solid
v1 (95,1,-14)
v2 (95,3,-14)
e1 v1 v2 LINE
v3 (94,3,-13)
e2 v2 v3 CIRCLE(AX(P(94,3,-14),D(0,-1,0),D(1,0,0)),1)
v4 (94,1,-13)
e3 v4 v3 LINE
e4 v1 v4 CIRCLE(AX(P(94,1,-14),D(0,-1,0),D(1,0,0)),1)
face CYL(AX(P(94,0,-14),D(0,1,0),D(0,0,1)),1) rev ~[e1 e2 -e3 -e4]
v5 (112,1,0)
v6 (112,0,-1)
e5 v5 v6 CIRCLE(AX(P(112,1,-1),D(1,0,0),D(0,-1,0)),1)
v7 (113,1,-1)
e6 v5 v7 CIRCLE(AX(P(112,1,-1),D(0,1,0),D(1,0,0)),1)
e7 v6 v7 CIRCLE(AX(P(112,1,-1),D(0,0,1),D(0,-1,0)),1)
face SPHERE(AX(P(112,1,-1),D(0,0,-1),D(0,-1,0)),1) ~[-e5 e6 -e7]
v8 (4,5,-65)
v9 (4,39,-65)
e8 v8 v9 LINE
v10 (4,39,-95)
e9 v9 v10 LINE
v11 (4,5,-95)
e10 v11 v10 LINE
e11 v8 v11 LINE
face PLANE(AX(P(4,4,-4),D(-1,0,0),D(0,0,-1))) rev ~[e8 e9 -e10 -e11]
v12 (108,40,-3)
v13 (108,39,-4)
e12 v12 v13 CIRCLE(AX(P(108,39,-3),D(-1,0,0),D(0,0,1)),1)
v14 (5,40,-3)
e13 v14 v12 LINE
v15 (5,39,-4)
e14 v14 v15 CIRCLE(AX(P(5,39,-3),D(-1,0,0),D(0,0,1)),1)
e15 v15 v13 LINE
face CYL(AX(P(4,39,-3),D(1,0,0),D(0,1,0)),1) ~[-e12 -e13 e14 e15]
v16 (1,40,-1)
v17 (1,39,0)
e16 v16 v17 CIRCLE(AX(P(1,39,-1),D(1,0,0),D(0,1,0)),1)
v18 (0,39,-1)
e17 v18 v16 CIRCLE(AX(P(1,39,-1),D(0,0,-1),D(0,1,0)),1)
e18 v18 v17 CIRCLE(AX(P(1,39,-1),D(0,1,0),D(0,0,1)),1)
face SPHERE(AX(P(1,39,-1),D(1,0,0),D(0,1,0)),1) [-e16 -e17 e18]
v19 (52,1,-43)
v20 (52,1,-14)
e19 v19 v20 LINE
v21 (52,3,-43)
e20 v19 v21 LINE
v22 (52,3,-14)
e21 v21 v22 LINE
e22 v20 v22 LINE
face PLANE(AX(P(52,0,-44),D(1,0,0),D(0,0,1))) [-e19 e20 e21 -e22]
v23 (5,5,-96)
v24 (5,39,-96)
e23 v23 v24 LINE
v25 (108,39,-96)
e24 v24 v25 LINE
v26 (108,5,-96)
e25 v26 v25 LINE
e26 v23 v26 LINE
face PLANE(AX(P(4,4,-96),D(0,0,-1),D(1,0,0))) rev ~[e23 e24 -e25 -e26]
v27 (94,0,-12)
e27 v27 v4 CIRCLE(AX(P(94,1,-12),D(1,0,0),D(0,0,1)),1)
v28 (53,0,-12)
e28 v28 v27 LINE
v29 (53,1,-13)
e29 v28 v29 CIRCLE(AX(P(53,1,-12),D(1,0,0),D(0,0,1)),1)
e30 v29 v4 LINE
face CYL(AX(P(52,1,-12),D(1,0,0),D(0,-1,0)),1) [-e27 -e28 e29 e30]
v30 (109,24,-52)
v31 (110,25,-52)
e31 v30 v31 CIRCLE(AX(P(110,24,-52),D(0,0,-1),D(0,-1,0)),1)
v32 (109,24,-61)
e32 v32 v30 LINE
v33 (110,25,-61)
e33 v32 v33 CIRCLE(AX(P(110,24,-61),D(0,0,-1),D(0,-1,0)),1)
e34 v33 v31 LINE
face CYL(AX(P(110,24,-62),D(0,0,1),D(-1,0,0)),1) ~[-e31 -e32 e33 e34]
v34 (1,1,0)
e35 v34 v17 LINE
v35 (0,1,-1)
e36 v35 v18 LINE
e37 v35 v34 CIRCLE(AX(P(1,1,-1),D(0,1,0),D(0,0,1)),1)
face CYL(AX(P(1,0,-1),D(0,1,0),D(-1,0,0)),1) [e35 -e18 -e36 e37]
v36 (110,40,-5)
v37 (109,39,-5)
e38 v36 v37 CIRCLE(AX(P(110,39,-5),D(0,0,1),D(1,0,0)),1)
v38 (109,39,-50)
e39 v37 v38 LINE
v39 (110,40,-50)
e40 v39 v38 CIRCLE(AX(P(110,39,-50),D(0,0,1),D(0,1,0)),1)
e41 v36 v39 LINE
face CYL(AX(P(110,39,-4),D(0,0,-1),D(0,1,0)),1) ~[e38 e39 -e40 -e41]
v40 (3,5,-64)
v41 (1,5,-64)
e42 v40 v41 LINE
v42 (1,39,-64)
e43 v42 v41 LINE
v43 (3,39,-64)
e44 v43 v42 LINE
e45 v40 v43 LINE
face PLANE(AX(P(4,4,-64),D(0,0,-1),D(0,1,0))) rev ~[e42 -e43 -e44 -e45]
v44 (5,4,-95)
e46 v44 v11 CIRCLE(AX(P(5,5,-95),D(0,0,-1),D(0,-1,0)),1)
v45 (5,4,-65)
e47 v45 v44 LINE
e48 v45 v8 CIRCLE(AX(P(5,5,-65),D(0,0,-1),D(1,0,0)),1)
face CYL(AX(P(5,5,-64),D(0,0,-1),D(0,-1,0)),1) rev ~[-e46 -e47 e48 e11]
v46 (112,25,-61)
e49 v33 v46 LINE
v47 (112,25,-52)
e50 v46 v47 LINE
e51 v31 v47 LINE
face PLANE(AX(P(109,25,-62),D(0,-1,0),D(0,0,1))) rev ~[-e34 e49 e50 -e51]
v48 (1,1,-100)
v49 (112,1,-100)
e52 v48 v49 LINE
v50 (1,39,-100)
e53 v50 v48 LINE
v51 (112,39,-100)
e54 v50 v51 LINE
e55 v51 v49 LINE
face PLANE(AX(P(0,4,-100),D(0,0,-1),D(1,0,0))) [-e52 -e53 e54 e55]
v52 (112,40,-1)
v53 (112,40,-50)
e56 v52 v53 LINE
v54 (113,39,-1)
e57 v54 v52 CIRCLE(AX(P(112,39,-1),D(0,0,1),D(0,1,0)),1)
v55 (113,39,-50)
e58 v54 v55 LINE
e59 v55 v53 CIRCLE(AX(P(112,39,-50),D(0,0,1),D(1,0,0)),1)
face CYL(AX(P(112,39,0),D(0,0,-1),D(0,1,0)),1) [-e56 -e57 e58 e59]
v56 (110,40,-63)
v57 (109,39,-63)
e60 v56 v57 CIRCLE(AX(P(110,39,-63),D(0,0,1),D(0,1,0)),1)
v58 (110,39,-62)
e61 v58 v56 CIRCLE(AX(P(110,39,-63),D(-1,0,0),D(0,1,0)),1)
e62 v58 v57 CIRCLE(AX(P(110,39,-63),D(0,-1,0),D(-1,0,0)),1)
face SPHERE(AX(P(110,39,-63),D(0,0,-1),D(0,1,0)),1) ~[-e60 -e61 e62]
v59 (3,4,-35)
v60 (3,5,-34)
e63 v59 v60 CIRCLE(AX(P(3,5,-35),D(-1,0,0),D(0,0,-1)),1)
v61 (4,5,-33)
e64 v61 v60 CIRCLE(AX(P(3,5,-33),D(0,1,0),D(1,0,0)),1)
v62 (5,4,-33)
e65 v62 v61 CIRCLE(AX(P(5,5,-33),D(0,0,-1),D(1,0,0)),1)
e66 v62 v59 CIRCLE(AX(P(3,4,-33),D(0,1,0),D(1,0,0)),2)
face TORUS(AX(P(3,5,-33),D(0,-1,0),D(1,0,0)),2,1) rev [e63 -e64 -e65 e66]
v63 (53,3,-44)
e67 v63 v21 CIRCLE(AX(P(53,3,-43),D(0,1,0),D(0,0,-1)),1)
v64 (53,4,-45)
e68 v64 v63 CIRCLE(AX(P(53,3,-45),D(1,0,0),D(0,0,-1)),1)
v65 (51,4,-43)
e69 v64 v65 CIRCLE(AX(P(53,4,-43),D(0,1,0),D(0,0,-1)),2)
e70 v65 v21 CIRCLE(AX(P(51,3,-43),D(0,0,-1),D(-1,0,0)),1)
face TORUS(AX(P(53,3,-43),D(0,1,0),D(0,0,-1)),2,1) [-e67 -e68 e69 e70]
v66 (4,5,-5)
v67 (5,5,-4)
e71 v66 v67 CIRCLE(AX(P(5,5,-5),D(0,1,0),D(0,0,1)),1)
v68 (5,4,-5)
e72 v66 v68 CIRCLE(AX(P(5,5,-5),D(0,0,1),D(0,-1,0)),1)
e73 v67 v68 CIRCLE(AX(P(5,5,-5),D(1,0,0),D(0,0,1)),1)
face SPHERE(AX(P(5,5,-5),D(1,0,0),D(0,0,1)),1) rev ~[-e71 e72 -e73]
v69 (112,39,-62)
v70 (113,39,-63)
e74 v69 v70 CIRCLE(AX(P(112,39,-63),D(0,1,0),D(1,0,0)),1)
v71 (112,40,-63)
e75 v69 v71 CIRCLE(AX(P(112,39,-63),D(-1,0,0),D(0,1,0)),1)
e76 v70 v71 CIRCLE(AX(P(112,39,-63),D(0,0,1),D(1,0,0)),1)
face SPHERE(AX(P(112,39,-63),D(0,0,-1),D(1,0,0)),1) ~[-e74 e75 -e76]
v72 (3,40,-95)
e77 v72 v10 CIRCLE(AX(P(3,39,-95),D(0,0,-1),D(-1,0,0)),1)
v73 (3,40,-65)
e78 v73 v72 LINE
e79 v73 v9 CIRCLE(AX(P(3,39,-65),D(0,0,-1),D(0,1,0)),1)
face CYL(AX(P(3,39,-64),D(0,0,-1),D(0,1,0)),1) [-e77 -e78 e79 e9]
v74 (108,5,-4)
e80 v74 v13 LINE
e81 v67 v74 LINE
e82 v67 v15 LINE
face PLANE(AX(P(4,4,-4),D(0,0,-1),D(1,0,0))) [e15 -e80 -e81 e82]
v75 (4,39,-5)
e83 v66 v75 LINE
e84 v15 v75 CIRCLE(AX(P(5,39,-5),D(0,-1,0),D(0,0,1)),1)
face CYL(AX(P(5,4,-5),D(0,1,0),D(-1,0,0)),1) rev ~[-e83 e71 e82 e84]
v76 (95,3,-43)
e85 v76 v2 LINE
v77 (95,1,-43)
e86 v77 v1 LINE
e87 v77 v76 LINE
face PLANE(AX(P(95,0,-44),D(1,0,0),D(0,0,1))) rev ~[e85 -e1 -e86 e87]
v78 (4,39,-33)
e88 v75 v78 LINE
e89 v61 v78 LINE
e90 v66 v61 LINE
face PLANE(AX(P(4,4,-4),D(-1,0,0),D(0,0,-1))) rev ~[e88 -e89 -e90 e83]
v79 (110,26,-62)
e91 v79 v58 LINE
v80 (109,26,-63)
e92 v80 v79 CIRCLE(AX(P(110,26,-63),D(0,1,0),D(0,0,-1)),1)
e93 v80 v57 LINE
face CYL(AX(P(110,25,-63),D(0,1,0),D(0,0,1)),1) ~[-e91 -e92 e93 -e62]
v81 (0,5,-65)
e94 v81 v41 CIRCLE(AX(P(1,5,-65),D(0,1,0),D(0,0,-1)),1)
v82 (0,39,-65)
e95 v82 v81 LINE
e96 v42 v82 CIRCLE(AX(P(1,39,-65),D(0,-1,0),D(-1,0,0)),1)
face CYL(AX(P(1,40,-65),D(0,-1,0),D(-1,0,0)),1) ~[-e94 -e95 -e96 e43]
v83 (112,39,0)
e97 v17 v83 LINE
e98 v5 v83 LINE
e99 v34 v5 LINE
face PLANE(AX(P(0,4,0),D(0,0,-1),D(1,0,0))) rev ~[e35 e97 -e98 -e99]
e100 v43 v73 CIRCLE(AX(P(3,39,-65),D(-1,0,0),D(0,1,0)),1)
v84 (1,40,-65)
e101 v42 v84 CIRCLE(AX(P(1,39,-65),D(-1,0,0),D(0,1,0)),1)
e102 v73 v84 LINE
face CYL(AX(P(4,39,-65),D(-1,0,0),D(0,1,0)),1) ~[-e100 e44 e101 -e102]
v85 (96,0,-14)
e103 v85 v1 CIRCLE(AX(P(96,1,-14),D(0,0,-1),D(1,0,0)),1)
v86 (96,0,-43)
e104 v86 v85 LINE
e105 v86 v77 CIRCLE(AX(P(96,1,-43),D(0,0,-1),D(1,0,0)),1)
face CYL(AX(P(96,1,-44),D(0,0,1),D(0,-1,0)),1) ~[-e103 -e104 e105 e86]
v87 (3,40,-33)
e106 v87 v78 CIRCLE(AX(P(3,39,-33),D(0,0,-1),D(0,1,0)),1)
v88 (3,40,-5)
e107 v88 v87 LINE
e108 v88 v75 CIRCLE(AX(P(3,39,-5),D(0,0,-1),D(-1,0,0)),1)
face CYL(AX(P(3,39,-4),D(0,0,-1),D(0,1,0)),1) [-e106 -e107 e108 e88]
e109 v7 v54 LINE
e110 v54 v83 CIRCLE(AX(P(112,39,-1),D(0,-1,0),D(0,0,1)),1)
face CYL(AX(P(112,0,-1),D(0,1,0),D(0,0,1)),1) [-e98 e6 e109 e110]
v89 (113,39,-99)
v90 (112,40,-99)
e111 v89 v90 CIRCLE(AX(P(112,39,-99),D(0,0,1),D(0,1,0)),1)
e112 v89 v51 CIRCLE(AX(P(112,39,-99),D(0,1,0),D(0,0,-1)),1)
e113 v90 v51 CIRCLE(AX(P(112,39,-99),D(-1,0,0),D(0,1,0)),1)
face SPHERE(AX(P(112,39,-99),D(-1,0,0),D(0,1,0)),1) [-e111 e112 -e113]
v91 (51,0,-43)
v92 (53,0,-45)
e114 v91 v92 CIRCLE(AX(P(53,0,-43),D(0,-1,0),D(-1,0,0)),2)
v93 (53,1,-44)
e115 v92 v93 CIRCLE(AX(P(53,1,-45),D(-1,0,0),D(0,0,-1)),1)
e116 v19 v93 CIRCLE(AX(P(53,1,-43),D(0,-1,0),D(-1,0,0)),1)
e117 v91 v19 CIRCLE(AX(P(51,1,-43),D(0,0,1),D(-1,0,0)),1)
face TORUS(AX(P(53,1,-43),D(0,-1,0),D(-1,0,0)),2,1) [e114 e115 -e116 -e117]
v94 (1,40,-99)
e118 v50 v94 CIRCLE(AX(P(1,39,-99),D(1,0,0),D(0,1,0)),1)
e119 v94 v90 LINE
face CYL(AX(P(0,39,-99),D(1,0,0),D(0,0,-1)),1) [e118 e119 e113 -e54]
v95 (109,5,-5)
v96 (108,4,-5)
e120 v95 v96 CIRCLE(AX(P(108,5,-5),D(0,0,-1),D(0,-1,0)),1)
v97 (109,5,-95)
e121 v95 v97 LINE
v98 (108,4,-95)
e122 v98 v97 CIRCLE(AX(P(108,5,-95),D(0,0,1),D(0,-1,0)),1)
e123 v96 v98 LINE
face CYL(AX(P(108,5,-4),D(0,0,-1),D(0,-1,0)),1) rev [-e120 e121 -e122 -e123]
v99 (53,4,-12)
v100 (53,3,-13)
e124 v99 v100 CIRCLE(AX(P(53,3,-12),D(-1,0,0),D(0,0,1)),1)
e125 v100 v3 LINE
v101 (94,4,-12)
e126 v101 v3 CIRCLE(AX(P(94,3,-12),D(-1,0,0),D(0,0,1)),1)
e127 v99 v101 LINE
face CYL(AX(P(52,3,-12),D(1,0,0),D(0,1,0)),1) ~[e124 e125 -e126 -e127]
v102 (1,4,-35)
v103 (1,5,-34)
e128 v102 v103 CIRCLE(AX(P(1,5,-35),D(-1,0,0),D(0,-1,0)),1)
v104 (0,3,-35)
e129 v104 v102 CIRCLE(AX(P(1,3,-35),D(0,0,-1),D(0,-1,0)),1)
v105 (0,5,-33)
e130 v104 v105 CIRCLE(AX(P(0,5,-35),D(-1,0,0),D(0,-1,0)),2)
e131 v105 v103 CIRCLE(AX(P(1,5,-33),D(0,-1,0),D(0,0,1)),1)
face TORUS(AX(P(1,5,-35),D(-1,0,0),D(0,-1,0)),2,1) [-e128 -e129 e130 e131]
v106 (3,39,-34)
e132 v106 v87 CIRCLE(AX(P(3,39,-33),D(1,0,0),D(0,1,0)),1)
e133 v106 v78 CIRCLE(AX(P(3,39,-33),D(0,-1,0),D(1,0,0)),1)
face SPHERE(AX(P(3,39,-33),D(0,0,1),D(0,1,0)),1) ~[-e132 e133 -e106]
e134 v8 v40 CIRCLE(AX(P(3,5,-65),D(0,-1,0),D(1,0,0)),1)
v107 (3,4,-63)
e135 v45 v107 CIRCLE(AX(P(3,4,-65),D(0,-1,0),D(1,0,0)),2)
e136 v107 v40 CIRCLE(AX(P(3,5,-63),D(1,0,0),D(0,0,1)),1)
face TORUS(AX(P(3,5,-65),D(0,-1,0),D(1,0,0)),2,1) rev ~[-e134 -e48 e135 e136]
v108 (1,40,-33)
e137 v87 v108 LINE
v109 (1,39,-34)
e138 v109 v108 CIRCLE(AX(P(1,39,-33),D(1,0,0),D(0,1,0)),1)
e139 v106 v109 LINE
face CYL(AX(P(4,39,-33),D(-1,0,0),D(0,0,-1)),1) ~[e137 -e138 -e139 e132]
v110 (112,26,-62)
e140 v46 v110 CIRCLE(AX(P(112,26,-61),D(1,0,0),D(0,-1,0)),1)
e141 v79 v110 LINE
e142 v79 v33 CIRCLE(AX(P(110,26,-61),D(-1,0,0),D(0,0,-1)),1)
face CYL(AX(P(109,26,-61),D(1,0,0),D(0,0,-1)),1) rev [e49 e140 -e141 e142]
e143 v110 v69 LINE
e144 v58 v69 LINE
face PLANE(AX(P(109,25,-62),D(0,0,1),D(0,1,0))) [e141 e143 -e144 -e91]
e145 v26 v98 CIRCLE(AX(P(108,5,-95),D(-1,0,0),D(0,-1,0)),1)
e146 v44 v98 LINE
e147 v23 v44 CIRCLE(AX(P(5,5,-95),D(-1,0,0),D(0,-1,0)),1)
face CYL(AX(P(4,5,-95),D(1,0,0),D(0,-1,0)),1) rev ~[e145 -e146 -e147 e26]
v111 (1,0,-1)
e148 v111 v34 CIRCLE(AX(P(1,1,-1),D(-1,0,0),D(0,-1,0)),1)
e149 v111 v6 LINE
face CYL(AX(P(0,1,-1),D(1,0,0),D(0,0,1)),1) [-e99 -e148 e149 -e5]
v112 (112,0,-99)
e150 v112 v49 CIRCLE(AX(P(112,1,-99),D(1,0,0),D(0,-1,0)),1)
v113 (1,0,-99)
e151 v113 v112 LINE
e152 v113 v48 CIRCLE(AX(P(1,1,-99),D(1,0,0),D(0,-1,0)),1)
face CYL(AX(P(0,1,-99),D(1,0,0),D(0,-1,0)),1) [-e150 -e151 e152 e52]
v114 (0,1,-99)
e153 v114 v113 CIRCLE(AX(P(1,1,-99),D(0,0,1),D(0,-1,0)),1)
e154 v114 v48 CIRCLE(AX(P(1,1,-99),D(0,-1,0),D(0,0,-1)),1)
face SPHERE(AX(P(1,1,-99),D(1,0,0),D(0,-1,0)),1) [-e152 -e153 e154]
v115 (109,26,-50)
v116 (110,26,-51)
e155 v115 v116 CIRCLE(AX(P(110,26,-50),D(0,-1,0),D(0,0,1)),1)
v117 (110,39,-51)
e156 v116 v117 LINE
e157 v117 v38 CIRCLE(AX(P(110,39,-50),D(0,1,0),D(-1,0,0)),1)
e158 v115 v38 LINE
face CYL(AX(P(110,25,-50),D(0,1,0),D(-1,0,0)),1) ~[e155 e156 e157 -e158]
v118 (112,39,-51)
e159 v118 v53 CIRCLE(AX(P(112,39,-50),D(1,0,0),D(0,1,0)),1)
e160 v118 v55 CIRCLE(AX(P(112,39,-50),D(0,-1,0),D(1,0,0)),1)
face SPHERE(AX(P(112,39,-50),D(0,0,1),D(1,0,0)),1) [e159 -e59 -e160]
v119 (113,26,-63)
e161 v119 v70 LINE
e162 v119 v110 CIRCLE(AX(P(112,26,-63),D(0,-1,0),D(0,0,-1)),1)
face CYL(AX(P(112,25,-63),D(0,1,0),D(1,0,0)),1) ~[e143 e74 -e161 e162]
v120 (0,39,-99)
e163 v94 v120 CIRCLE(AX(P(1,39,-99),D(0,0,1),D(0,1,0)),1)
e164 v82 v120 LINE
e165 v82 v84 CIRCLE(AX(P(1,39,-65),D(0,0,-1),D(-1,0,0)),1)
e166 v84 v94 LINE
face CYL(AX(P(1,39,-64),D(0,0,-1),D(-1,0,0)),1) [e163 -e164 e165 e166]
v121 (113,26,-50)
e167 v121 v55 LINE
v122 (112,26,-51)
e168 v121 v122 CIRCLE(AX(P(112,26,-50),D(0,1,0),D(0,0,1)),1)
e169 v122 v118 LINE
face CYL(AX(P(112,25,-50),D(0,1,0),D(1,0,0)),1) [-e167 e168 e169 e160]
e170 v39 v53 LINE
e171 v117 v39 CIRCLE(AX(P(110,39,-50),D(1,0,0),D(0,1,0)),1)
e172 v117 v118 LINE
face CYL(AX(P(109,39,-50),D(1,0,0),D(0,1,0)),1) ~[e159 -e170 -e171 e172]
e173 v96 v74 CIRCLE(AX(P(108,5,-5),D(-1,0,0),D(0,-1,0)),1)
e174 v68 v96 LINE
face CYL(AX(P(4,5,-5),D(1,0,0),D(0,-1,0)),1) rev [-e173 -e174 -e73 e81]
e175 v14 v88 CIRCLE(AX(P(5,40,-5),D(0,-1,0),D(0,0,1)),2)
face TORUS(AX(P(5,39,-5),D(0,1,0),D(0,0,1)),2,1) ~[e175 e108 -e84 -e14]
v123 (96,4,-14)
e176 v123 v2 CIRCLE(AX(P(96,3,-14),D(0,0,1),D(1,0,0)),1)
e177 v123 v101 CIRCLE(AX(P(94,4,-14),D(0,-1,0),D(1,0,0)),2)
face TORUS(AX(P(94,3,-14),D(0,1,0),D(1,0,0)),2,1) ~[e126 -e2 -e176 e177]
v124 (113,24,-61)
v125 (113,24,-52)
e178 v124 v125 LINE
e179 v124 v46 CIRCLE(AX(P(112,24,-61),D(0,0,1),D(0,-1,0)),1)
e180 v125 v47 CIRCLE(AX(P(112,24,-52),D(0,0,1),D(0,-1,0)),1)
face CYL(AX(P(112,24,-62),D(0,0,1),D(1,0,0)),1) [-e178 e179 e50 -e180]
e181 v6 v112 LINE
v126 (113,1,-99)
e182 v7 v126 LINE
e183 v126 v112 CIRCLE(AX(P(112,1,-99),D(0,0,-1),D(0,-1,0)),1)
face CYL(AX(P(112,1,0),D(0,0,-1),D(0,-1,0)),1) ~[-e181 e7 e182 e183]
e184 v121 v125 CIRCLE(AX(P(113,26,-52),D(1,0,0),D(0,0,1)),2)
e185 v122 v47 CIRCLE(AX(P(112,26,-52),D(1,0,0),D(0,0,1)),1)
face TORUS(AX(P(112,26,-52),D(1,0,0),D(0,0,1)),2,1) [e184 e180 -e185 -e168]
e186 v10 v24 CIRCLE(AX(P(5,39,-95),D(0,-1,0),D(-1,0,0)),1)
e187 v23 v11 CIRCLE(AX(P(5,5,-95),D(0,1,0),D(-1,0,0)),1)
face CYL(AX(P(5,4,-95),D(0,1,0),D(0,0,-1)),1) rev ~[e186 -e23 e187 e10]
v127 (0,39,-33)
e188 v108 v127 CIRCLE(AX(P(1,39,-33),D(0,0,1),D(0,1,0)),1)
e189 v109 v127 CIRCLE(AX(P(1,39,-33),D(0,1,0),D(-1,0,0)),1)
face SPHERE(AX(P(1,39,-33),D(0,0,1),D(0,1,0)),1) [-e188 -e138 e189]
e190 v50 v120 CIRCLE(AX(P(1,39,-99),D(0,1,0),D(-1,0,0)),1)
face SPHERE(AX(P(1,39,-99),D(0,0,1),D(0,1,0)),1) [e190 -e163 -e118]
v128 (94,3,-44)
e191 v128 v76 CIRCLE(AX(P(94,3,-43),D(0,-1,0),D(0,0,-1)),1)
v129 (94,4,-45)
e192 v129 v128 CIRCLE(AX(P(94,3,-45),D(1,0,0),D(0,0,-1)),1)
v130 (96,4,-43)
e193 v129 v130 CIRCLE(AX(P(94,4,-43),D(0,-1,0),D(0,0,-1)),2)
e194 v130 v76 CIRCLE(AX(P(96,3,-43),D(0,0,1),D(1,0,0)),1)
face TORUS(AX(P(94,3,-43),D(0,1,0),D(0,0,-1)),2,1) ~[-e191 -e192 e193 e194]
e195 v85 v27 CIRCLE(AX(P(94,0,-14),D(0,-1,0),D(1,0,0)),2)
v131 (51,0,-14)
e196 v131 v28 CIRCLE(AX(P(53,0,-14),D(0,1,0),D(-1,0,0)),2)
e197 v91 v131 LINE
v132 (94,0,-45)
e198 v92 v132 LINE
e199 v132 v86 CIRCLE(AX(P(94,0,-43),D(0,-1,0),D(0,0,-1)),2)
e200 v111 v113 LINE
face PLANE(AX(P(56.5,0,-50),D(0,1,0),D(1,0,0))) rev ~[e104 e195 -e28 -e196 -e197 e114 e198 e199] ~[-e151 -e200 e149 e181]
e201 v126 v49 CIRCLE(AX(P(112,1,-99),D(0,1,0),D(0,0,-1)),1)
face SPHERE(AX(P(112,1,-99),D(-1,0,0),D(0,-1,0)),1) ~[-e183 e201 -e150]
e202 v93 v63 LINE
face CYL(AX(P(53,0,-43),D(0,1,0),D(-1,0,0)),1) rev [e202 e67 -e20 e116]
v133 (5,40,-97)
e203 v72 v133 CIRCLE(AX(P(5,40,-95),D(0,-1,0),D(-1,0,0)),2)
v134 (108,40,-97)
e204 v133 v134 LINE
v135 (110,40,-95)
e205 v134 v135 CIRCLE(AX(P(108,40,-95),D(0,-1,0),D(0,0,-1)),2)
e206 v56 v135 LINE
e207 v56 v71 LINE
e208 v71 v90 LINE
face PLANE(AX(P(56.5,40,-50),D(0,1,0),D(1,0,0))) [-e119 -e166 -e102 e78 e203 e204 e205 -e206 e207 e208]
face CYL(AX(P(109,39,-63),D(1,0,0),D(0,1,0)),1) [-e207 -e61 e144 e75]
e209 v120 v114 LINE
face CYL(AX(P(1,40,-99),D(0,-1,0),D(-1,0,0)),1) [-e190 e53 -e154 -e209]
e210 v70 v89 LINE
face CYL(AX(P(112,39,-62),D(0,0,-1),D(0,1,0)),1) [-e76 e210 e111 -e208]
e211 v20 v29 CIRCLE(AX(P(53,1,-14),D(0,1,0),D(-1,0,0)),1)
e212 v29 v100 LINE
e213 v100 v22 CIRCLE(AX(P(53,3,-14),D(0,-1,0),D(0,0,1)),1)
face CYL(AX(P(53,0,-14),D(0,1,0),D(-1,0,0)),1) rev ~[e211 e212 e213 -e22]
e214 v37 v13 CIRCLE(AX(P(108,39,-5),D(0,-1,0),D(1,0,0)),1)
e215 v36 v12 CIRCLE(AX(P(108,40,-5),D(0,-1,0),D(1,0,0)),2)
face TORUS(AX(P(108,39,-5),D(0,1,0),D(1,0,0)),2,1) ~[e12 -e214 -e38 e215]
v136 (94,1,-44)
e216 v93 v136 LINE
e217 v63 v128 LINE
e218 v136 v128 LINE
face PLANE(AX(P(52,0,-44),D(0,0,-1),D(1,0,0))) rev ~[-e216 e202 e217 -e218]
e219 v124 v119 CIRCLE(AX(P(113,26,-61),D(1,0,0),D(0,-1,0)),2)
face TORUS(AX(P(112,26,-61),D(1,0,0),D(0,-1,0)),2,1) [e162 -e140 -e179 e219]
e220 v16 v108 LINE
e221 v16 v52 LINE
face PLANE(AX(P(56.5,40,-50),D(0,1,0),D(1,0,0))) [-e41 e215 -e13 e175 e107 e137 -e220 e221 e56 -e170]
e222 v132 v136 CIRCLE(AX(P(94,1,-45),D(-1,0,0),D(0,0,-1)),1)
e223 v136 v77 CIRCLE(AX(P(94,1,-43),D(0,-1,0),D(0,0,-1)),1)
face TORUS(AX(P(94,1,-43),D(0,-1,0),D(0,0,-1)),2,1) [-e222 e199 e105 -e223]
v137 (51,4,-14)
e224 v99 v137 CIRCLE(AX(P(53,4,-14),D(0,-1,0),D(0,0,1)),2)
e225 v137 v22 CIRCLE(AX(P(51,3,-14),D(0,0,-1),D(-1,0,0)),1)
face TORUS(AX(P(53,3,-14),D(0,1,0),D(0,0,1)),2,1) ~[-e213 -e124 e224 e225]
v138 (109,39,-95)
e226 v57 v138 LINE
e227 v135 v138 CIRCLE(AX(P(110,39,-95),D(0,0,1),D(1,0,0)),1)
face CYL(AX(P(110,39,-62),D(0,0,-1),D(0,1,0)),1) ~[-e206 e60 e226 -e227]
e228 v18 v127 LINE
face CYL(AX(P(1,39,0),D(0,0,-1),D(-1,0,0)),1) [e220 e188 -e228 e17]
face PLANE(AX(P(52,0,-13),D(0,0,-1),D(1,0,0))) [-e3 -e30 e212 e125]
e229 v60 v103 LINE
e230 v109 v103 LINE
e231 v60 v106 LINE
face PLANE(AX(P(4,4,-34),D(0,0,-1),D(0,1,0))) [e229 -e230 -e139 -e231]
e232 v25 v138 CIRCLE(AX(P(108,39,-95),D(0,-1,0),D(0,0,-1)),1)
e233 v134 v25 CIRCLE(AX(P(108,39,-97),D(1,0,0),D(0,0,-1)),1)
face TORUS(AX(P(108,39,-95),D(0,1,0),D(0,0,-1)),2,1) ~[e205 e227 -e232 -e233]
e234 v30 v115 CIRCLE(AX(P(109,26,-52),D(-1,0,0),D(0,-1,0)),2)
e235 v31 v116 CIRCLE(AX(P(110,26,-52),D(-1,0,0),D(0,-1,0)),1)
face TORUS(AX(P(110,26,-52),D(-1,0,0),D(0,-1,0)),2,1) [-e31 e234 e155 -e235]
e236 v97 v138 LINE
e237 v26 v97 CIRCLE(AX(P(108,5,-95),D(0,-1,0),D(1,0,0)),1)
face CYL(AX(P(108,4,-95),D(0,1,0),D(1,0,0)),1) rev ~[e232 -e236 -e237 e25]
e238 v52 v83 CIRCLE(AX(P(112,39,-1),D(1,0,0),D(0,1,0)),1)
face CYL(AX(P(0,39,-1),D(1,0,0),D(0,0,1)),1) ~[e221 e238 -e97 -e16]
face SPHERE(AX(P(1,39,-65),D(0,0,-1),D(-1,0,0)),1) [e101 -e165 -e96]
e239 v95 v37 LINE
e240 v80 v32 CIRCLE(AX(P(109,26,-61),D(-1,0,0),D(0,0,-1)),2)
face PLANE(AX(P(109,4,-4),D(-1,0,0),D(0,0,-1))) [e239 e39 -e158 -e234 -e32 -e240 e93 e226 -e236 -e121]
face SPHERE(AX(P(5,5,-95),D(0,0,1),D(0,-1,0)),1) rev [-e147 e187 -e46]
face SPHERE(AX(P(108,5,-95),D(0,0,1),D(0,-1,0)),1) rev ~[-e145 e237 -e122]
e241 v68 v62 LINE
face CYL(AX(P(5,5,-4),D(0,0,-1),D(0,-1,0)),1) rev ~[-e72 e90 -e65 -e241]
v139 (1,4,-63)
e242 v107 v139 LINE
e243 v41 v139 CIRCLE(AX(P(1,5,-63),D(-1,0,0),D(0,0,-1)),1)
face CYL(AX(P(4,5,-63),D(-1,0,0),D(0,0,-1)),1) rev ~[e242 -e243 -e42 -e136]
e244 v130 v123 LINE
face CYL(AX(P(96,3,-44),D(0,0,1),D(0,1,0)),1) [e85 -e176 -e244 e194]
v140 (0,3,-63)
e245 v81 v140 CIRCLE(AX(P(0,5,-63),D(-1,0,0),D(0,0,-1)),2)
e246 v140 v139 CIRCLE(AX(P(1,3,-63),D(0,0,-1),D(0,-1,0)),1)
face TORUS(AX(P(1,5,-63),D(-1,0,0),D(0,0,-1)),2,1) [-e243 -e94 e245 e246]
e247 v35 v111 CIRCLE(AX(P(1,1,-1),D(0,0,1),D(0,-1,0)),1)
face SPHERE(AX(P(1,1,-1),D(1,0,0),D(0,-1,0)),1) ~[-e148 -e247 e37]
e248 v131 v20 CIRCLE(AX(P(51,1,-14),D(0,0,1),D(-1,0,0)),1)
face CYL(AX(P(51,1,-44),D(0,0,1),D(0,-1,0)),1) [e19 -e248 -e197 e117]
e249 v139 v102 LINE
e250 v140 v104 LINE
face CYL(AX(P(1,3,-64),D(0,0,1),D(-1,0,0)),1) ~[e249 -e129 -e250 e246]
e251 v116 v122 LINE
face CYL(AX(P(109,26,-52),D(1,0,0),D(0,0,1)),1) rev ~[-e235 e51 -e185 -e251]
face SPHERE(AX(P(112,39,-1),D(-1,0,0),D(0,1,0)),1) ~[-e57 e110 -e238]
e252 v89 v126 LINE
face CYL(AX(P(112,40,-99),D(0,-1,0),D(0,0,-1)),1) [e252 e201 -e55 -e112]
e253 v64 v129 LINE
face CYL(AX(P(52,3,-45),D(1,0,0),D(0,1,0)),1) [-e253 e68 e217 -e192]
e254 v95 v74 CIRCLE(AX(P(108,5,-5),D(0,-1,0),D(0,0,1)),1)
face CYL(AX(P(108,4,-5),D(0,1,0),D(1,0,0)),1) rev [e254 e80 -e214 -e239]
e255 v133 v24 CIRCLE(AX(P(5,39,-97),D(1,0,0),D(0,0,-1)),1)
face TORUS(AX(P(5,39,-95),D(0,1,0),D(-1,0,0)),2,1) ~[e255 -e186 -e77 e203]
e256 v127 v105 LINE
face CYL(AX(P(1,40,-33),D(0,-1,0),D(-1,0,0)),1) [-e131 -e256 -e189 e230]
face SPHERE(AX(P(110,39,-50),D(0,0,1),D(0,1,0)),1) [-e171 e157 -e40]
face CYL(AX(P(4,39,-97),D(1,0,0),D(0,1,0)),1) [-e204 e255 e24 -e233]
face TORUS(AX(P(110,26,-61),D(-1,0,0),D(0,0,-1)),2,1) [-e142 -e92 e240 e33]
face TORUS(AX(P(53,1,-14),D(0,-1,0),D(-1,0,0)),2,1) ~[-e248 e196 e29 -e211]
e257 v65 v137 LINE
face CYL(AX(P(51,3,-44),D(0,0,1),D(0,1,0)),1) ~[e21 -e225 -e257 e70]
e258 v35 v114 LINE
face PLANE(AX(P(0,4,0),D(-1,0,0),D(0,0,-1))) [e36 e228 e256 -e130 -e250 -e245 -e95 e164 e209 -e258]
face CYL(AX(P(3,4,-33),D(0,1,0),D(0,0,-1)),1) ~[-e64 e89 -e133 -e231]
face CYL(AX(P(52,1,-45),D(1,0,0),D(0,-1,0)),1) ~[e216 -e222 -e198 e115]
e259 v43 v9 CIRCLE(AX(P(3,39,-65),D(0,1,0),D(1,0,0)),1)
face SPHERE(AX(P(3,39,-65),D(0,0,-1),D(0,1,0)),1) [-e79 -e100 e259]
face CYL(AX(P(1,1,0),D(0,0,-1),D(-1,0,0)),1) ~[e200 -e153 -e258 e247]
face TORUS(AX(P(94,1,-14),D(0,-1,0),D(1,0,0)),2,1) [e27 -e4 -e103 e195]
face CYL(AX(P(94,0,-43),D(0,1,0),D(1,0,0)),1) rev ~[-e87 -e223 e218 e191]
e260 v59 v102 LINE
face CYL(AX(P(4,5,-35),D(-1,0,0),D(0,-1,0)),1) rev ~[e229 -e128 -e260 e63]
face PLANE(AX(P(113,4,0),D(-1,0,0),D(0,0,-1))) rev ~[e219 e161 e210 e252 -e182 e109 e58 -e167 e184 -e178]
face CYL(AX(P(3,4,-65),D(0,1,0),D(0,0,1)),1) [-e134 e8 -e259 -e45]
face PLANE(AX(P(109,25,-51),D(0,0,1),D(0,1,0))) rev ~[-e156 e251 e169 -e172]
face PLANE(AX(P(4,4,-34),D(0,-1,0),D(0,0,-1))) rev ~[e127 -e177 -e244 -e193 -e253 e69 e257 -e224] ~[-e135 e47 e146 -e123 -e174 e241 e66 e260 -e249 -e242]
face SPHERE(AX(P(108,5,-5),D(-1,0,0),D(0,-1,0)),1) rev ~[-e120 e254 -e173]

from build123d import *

# Parameters (mm, degrees)
SKETCH1_W           = 113
SKETCH1_H           = 100
BOSS_EXTRUDE1_DEPTH = 4
SKETCH2_W           = 113
SKETCH2_H           = 100
SKETCH2_W_2         = 105
SKETCH2_H_2         = 92
BOSS_EXTRUDE2_DEPTH = 36
SKETCH3_W           = 30
SKETCH3_H           = 36
CUT_EXTRUDE1_DEPTH  = 40
SKETCH4_W           = 11
SKETCH4_H           = 15
CUT_EXTRUDE2_DEPTH  = 40
SKETCH5_W           = 43
SKETCH5_H           = 31
CUT_EXTRUDE3_DEPTH  = 40
FILLET1_R           = 1


with BuildPart() as part:
    # Sketch1 → Boss-Extrude1 (new body)
    with BuildSketch(Plane(origin=(0, 0, 0), x_dir=(1, 0, 0), z_dir=(0, 1, 0))):
        with Locations((56.5, 50)):
            Rectangle(SKETCH1_W, SKETCH1_H)
    extrude(amount=BOSS_EXTRUDE1_DEPTH)

    # Sketch2 → Boss-Extrude2 (add)
    with BuildSketch(Plane(origin=(0, 4, 0), x_dir=(1, 0, 0), z_dir=(0, 1, 0))):
        with Locations((56.5, 50)):
            Rectangle(SKETCH2_W, SKETCH2_H)
        with Locations((56.5, 50)):
            Rectangle(SKETCH2_W_2, SKETCH2_H_2, mode=Mode.SUBTRACT)
    extrude(amount=BOSS_EXTRUDE2_DEPTH)

    # Sketch3 → Cut-Extrude1 (cut)
    with BuildSketch(Plane(origin=(4, 0, 0), x_dir=(0, 0, -1), z_dir=(1, 0, 0))):
        with Locations((49, 22)):
            Rectangle(SKETCH3_W, SKETCH3_H)
    extrude(amount=-CUT_EXTRUDE1_DEPTH, mode=Mode.SUBTRACT)

    # Sketch4 → Cut-Extrude2 (cut)
    with BuildSketch(Plane.ZY.offset(-109)):
        with Locations((-56.5, 32.5)):
            Rectangle(SKETCH4_W, SKETCH4_H)
    extrude(amount=-CUT_EXTRUDE2_DEPTH, mode=Mode.SUBTRACT)

    # Sketch5 → Cut-Extrude3 (cut)
    with BuildSketch(Plane.XZ):
        with Locations((73.5, -28.5)):
            Rectangle(SKETCH5_W, SKETCH5_H)
    extrude(amount=-CUT_EXTRUDE3_DEPTH, mode=Mode.SUBTRACT)

    # Fillet1
    fillet1_edges = [part.edges().sort_by_distance(p)[0] for p in [
        (0, 40, -82),
        (56.5, 40, 0),
        (113, 40, -25.5),
        (56.5, 40, -100),
        (4, 4, -80),
        (56.5, 4, -4),
        (109, 4, -50),
        (56.5, 4, -96),
        (4, 40, -80),
        (4, 22, -4),
        (56.5, 40, -4),
        (109, 22, -4),
        (109, 40, -27.5),
        (109, 22, -96),
        (56.5, 40, -96),
        (4, 22, -96),
        (4, 4, -19),
        (4, 40, -19),
        (0, 40, -17),
        (2, 40, -34),
        (0, 22, -64),
        (2, 40, -64),
        (0, 4, -49),
        (2, 4, -64),
        (0, 22, -34),
        (2, 4, -34),
        (4, 22, -34),
        (4, 22, -64),
        (56.5, 0, -100),
        (113, 0, -50),
        (56.5, 0, 0),
        (109, 40, -79),
        (113, 40, -81),
        (0, 0, -50),
        (113, 32.5, -62),
        (111, 25, -62),
        (111, 40, -62),
        (113, 32.5, -51),
        (111, 40, -51),
        (113, 25, -56.5),
        (111, 25, -51),
        (109, 32.5, -62),
        (109, 25, -56.5),
        (109, 32.5, -51),
        (73.5, 4, -44),
        (0, 20, -100),
        (95, 4, -28.5),
        (73.5, 4, -13),
        (52, 4, -28.5),
        (113, 20, -100),
        (113, 20, 0),
        (0, 20, 0),
        (52, 2, -44),
        (52, 2, -13),
        (95, 2, -13),
        (95, 2, -44),
        (52, 0, -28.5),
        (73.5, 0, -44),
        (95, 0, -28.5),
        (73.5, 0, -13),
    ]]
    fillet(fillet1_edges, radius=FILLET1_R)


solid = part.part
